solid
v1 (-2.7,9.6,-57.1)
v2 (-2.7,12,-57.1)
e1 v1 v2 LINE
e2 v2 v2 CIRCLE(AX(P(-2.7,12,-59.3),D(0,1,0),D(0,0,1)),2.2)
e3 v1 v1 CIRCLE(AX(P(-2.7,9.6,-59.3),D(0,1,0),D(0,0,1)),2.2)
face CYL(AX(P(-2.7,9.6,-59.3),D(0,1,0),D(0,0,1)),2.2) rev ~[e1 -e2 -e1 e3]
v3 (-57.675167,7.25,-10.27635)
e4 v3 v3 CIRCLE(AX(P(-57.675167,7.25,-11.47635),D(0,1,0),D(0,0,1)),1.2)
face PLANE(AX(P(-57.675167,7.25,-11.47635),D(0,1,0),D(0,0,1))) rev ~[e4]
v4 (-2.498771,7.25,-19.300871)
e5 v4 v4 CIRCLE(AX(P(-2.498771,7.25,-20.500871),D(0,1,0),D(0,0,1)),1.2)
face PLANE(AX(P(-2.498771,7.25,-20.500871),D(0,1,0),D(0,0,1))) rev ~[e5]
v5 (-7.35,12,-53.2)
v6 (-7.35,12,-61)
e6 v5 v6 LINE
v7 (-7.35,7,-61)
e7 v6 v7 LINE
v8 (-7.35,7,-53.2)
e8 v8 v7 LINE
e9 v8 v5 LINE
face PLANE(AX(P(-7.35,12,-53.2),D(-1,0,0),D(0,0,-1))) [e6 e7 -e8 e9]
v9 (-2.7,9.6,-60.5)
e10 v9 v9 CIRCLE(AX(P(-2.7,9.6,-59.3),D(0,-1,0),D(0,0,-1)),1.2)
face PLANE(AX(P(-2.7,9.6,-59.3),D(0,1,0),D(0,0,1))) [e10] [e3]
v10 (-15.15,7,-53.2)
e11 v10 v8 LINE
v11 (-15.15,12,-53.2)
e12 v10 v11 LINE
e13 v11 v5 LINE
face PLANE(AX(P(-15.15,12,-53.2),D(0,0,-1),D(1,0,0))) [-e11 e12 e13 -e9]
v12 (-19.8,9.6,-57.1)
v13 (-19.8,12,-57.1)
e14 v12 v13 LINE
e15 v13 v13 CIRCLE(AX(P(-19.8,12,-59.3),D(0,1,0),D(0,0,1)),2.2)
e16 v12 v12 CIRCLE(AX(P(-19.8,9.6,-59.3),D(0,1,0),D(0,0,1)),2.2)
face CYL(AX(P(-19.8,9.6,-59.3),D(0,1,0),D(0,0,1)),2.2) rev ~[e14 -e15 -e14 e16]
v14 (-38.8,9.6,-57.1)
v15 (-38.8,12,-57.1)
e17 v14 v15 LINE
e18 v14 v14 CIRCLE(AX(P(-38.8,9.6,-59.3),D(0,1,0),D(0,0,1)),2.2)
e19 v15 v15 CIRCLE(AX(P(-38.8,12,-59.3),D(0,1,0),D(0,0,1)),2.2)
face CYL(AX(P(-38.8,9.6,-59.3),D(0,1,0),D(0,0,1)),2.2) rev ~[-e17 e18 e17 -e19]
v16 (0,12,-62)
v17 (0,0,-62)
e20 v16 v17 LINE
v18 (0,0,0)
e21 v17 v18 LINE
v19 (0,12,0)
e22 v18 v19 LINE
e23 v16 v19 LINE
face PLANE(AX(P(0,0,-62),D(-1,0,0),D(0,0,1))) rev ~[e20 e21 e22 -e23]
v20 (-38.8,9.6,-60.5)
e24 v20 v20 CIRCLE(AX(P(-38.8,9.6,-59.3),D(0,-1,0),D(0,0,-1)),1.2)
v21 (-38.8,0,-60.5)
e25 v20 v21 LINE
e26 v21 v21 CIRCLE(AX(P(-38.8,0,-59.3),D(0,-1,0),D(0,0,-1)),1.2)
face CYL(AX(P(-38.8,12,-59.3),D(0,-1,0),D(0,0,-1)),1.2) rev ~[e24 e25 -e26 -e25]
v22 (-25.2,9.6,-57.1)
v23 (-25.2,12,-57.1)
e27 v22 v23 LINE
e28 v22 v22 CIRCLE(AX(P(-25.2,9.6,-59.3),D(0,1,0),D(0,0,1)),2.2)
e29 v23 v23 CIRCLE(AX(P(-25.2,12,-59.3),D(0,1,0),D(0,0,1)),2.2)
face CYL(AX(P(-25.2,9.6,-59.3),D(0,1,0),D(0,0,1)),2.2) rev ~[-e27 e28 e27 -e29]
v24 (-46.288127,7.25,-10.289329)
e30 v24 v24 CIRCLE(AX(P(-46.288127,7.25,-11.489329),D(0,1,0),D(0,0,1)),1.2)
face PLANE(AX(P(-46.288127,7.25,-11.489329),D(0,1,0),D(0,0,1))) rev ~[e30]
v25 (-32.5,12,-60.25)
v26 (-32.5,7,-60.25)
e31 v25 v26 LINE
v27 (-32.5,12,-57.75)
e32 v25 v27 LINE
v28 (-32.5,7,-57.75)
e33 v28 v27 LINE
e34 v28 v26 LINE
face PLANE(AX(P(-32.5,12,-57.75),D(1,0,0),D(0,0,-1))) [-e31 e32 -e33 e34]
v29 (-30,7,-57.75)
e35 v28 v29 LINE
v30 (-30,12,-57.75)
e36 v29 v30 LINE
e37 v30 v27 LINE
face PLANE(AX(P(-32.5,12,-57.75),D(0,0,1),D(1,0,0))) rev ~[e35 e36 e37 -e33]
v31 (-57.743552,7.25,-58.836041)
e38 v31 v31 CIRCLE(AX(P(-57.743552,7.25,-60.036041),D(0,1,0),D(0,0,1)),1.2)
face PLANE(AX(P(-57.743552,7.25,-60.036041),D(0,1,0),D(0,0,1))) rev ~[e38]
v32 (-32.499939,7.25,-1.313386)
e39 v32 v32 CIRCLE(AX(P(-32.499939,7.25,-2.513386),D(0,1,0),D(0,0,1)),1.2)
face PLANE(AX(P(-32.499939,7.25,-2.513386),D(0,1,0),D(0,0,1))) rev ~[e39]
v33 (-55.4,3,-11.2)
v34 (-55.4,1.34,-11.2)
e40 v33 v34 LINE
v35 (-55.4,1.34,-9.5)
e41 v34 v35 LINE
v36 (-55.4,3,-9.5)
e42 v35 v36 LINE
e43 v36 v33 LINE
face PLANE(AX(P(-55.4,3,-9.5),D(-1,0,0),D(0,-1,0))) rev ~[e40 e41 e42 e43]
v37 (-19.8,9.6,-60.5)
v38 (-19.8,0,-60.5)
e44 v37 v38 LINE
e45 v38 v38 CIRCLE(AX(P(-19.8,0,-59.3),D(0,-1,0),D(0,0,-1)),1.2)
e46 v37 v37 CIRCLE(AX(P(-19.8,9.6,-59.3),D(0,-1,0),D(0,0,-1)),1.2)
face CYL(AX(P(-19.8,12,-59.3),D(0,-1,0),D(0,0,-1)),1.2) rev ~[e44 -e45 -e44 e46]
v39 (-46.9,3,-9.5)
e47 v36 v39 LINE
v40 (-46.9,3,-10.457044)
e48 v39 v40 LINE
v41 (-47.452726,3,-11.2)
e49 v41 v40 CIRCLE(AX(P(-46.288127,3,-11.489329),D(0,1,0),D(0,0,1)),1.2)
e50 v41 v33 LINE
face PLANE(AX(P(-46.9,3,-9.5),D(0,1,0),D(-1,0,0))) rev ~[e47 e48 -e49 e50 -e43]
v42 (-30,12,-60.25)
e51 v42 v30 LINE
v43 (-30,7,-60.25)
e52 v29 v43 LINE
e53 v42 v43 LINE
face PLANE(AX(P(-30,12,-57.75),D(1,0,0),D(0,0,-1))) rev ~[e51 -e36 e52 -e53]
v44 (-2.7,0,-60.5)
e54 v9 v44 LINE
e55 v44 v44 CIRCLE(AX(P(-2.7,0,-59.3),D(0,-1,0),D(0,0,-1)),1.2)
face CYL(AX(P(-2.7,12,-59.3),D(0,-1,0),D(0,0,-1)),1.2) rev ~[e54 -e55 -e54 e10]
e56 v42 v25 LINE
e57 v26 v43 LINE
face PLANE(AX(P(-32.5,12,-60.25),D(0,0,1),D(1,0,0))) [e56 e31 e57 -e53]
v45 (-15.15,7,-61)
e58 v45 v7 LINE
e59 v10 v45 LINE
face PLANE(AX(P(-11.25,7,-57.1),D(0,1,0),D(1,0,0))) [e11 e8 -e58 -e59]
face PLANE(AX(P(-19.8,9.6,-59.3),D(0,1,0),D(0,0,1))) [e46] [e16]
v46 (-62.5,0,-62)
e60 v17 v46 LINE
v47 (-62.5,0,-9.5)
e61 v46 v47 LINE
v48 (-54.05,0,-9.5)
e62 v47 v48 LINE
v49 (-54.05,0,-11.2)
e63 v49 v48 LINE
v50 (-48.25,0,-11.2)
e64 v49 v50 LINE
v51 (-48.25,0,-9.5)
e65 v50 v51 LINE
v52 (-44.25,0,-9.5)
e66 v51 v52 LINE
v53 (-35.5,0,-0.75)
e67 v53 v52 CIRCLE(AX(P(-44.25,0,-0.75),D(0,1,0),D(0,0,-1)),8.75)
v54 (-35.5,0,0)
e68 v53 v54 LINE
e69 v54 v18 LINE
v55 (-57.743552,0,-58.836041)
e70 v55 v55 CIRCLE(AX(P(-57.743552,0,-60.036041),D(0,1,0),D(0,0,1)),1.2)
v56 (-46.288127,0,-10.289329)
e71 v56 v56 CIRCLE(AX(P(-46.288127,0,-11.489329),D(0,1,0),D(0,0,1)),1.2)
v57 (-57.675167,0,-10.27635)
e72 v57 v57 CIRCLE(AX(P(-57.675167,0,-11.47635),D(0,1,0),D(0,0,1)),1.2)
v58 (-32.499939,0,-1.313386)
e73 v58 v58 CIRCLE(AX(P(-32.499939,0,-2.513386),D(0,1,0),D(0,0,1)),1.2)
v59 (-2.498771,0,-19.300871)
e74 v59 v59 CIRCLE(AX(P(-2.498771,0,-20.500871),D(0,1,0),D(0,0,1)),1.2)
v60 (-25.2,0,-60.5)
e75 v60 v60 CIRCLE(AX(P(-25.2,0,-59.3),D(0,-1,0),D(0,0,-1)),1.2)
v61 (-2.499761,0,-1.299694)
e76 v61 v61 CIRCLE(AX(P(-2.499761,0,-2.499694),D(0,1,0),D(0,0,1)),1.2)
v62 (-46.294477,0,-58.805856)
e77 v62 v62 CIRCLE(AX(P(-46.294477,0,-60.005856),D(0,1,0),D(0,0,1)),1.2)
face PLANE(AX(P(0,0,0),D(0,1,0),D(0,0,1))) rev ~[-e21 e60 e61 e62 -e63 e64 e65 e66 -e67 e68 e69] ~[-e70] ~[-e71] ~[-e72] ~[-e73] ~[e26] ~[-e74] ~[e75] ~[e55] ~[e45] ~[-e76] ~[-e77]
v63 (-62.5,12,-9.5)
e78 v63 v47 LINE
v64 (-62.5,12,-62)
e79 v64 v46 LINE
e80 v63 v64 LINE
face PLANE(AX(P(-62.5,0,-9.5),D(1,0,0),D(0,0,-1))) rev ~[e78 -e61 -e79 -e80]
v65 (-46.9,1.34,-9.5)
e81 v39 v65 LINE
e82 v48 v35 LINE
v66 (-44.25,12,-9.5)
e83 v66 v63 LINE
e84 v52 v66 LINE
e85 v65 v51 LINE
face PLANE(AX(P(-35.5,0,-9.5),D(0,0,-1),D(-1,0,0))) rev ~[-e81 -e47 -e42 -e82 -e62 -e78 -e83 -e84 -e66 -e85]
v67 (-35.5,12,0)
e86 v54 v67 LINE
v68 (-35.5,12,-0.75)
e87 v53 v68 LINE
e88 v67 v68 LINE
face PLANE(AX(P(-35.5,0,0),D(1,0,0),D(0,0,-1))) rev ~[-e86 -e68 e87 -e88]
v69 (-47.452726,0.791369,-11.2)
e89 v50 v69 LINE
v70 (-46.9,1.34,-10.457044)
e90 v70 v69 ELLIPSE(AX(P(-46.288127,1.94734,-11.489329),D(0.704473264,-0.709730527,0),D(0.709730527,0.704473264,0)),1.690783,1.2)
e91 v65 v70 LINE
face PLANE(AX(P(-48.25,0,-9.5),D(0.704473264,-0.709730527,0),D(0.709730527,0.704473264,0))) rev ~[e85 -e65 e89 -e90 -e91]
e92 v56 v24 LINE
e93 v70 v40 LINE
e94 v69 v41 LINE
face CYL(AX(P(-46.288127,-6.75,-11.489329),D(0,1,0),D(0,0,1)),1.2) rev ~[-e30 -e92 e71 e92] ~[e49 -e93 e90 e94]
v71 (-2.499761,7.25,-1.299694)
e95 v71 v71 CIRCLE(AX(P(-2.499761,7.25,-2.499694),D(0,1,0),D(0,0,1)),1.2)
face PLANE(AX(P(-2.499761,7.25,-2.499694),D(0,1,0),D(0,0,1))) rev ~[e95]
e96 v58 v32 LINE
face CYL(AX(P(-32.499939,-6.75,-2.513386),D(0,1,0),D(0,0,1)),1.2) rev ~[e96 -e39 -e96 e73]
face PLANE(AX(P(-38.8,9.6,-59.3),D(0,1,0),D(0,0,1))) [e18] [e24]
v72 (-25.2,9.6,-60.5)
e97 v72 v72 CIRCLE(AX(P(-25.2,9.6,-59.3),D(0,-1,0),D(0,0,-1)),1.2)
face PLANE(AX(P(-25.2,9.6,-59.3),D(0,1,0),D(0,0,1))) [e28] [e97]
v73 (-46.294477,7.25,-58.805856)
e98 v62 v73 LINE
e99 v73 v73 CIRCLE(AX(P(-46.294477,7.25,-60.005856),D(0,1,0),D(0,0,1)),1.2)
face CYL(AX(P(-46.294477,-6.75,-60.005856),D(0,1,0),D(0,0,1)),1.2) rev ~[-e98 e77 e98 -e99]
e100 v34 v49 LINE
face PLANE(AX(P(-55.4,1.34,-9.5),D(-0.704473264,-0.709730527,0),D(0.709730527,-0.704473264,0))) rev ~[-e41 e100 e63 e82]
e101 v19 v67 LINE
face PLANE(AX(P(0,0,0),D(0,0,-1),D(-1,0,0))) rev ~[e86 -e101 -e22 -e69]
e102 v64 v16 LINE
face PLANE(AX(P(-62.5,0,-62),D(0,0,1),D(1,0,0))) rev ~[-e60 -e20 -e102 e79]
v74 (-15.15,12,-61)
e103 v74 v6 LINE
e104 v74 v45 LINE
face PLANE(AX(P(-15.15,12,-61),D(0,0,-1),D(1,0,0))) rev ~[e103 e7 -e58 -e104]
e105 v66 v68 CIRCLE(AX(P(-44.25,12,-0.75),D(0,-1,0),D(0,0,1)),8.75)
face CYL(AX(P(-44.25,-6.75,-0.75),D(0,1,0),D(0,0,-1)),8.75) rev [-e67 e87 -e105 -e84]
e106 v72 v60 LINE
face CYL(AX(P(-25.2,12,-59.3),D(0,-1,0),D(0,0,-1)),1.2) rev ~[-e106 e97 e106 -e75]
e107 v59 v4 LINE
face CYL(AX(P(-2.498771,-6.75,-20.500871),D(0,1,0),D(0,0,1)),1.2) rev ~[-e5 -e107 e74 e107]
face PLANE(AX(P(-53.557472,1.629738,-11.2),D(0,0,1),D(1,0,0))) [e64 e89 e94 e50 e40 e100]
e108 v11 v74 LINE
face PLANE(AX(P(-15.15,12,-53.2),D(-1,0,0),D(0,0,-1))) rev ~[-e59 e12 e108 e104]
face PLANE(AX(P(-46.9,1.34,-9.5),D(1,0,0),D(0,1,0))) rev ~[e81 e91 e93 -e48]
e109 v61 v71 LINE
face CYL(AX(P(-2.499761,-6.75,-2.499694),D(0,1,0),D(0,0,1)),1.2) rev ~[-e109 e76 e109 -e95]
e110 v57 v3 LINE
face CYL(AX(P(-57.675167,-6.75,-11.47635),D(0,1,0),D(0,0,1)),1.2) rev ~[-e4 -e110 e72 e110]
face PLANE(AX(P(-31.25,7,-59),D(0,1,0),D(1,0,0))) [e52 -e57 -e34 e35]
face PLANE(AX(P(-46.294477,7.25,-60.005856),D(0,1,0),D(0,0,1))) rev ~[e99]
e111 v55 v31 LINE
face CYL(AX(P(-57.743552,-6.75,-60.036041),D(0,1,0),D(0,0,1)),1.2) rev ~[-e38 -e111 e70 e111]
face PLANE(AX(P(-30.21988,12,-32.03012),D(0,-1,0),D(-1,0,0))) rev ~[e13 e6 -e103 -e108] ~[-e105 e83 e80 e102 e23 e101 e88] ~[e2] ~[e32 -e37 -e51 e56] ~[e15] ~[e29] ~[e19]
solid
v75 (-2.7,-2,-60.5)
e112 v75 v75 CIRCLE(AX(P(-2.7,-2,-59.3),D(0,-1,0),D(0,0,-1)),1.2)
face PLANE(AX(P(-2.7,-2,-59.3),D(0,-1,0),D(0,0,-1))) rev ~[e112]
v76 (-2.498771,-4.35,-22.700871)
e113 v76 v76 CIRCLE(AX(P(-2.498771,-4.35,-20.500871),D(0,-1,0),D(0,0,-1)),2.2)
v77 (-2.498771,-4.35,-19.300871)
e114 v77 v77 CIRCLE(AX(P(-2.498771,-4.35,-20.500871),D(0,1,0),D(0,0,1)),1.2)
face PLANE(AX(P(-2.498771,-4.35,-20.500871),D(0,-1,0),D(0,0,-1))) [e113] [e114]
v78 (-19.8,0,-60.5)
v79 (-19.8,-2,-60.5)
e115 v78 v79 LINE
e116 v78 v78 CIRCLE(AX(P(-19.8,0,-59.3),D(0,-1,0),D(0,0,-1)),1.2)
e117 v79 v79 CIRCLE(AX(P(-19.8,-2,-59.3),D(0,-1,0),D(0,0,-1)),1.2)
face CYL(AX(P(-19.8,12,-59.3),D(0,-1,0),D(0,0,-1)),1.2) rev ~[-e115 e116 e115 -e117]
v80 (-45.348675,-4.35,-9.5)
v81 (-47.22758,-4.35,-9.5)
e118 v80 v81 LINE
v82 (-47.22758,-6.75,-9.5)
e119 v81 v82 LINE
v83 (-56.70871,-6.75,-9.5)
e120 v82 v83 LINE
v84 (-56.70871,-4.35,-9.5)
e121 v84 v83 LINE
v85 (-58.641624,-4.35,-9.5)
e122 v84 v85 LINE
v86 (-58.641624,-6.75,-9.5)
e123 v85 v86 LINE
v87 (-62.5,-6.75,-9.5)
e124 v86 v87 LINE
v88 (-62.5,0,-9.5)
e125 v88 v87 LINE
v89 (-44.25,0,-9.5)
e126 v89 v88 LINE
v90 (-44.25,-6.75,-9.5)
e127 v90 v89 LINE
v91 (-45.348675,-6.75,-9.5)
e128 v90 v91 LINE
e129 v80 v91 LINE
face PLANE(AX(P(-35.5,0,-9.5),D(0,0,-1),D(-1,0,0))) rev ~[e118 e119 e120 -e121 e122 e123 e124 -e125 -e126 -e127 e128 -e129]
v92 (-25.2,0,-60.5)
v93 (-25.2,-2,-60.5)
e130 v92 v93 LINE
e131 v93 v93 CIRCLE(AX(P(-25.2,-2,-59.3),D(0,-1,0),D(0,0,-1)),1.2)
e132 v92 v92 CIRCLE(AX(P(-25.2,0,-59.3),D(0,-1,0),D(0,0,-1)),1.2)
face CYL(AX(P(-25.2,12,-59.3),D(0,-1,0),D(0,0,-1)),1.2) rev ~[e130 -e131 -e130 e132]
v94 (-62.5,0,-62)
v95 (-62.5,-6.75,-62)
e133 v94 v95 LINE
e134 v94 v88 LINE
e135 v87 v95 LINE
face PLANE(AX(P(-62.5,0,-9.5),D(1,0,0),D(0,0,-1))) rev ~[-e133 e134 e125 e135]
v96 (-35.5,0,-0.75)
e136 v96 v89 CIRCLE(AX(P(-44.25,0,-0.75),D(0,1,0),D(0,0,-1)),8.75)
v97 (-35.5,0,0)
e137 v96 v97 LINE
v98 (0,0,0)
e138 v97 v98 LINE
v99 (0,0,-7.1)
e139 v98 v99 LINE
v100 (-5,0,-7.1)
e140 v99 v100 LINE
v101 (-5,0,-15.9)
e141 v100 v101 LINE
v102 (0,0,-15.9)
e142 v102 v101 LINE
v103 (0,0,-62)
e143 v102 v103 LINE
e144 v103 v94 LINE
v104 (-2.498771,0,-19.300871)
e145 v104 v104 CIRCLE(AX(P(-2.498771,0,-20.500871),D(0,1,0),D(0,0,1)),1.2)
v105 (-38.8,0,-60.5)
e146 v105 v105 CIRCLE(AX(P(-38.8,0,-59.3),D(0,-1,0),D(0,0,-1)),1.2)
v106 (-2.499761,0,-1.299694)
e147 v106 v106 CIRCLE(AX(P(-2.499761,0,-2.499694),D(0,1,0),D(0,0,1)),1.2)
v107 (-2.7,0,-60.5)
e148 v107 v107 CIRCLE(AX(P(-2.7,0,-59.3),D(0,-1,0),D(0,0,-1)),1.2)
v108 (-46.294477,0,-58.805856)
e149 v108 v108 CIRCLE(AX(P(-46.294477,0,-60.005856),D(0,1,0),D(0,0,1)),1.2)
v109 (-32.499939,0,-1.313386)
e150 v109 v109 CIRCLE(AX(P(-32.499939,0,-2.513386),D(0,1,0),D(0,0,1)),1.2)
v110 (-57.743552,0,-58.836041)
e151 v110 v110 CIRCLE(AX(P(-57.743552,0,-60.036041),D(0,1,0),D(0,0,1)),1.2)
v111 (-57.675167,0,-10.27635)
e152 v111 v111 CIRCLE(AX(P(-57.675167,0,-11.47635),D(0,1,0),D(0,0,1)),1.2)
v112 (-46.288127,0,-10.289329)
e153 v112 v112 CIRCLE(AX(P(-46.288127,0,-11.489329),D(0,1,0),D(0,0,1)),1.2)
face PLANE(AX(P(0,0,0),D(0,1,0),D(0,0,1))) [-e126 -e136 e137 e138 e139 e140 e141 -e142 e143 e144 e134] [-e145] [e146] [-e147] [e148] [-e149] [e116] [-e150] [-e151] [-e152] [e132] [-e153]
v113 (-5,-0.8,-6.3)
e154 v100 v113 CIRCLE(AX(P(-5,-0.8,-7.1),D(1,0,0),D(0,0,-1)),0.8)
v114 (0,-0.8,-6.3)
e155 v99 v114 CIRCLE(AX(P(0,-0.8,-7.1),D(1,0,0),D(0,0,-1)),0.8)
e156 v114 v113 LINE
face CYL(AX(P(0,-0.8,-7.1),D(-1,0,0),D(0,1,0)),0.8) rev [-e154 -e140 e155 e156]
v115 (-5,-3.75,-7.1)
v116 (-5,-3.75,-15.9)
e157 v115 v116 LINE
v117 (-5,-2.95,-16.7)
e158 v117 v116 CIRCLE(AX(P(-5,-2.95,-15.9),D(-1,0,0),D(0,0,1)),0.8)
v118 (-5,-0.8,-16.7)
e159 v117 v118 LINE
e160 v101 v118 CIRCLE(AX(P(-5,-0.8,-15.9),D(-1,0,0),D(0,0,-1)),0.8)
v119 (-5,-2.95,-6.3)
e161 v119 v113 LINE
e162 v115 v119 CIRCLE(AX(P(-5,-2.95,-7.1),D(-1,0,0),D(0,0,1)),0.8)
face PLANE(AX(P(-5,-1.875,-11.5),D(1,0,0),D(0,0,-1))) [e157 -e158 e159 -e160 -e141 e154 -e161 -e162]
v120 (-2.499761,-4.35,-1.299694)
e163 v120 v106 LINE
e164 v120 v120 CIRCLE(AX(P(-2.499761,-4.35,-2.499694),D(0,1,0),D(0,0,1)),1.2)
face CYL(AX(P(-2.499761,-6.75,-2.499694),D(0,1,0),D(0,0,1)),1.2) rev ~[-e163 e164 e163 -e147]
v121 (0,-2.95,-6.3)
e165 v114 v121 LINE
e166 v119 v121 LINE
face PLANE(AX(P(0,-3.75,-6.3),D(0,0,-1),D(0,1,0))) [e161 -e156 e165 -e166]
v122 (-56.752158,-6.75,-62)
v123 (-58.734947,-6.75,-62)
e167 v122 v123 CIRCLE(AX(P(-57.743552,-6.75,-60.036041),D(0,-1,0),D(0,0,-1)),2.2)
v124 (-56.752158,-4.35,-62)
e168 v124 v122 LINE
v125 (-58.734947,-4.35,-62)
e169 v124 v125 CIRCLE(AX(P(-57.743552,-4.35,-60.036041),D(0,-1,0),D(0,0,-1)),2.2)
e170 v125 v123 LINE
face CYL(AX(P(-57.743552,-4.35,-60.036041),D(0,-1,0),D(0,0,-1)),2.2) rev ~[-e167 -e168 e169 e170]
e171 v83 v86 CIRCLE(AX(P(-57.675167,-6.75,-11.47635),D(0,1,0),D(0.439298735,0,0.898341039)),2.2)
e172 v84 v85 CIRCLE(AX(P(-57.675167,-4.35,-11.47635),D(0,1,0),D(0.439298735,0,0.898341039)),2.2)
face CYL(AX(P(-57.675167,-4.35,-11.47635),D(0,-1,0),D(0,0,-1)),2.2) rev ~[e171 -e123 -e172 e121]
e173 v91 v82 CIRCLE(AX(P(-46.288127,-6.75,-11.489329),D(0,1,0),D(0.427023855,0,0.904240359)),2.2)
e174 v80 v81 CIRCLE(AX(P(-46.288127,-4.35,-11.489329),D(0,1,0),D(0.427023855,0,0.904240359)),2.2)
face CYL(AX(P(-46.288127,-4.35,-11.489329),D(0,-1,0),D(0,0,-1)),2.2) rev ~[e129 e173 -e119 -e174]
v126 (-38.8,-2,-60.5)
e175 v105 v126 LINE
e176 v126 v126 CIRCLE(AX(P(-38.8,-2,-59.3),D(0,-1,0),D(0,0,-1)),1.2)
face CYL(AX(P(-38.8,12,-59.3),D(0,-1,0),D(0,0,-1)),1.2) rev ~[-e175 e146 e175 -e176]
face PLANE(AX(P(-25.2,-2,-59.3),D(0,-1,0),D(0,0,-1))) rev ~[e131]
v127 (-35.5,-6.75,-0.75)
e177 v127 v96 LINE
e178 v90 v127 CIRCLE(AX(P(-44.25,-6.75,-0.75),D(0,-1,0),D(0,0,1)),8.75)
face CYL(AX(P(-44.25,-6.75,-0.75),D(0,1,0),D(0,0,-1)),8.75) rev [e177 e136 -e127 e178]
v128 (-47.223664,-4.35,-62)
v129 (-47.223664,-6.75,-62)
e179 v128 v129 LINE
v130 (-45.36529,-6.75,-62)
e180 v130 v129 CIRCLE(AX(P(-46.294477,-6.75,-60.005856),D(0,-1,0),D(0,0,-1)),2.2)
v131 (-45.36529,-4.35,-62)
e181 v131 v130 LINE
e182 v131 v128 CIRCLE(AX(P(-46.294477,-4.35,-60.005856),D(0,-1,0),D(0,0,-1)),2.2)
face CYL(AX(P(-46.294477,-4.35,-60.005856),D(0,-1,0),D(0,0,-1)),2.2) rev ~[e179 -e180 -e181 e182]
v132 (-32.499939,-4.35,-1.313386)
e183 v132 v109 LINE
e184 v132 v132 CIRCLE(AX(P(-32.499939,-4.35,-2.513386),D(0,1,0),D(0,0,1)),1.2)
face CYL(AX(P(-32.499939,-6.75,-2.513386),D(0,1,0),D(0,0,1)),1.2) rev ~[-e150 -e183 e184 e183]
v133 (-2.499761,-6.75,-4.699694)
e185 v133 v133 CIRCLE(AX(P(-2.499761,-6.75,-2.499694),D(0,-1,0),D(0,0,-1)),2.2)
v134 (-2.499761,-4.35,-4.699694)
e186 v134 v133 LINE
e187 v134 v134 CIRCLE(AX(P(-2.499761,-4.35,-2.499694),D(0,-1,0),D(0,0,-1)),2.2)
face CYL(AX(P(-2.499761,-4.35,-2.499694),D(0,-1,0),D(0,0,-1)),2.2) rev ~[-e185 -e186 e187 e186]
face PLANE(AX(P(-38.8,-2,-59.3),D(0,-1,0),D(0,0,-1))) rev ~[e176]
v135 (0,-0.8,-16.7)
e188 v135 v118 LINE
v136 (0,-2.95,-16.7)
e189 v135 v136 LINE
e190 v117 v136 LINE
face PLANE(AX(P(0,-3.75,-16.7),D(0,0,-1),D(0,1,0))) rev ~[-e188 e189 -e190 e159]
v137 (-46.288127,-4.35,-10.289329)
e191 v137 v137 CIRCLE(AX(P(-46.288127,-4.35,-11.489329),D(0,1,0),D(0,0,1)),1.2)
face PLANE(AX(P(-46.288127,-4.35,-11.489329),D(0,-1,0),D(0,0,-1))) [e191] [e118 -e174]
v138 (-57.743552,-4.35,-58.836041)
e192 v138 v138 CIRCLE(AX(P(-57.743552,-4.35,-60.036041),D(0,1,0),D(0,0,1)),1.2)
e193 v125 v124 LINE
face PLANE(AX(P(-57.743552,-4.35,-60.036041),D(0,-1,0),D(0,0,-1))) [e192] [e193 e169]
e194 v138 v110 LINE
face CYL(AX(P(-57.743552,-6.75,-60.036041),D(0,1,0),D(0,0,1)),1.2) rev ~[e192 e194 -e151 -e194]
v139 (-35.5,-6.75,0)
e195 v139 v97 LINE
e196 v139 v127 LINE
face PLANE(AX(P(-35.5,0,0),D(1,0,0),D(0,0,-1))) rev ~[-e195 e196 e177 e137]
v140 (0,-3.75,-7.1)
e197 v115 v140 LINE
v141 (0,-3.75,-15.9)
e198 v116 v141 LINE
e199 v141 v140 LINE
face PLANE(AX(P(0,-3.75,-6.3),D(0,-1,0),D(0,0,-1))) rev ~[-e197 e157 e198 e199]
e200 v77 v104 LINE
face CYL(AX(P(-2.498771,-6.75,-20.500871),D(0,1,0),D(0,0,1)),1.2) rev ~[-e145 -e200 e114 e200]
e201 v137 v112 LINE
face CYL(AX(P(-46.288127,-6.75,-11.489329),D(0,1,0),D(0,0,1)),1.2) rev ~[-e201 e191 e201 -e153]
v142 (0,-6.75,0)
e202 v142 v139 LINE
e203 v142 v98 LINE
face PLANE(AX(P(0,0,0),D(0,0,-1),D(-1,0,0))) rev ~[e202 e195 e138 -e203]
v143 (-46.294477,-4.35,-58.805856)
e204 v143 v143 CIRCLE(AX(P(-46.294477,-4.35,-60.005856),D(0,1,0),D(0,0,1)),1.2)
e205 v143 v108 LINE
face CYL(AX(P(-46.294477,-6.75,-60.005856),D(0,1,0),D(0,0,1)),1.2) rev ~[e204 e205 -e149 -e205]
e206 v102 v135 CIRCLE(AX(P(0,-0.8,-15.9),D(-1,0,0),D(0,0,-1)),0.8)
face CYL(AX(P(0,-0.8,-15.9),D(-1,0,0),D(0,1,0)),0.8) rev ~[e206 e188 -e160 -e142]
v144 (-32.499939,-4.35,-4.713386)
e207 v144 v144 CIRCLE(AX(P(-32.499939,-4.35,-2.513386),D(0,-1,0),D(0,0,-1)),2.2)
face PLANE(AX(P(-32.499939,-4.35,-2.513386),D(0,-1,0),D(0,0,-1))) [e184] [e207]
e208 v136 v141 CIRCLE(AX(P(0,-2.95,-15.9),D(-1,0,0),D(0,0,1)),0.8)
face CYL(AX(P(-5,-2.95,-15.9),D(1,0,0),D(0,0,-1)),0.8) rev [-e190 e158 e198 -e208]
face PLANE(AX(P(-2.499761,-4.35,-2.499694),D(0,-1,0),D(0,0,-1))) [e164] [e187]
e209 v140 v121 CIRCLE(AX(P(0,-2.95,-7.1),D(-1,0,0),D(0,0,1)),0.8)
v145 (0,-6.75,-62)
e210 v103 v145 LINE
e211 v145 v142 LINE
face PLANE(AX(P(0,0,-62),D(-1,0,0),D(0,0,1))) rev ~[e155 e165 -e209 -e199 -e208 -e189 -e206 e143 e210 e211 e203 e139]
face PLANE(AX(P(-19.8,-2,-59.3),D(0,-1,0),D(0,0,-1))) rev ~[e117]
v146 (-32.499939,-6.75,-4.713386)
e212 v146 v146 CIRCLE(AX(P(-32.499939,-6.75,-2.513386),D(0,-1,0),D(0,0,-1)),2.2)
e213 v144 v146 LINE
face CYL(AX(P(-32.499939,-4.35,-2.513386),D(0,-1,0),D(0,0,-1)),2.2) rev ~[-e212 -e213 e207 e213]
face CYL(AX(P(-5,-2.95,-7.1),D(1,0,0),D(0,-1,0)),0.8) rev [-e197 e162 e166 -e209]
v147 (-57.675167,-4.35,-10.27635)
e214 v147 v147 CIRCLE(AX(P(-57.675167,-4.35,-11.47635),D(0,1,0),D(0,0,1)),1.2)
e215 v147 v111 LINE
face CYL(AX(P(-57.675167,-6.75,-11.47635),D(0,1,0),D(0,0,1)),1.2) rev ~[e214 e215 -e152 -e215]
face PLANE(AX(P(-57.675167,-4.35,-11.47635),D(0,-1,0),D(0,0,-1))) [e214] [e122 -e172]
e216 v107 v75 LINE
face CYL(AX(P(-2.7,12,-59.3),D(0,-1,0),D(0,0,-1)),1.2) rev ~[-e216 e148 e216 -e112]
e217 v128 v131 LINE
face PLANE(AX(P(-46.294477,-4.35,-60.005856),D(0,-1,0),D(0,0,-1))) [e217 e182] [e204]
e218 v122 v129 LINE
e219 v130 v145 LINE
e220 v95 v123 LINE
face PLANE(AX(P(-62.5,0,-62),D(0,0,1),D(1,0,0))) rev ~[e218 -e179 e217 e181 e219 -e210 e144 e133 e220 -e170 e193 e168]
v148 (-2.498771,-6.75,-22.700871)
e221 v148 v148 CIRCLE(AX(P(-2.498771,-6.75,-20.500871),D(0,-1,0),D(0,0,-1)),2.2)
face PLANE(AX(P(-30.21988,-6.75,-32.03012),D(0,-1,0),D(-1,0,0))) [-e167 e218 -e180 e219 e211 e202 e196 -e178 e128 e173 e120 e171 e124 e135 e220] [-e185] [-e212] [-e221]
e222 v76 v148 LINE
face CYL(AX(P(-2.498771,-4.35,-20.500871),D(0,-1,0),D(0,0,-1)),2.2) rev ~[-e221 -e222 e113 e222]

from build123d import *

# Parameters (mm, degrees)
BOSS_EXTRUDE1_DEPTH                                 = 12
BOSS_EXTRUDE1_DEPTH_BACK                            = 6.75
SKETCH5_W                                           = 7.8
SKETCH5_H                                           = 7.8
SKETCH5_W_2                                         = 2.5
SKETCH5_H_2                                         = 2.5
CUT_EXTRUDE1_DEPTH                                  = 5
SKETCH17_W                                          = 10.4
SKETCH17_H                                          = 3.75
CUT_EXTRUDE2_DEPTH                                  = 5
FILLET6_R                                           = 0.8
CUT_EXTRUDE3_DEPTH                                  = 1.7
FILLET4_R                                           = 8.75
CBORE_FOR_M2_HEX_SOCKET_HEAD_CAP_SCREW1_D           = 2.4
CBORE_FOR_M2_HEX_SOCKET_HEAD_CAP_SCREW1_DEPTH       = 14
CBORE_FOR_M2_HEX_SOCKET_HEAD_CAP_SCREW1_CBORE_D     = 4.4
CBORE_FOR_M2_HEX_SOCKET_HEAD_CAP_SCREW1_CBORE_DEPTH = 2.4
CBORE_FOR_M2_HEX_SOCKET_HEAD_CAP_SCREW2_D           = 2.4
CBORE_FOR_M2_HEX_SOCKET_HEAD_CAP_SCREW2_DEPTH       = 14
CBORE_FOR_M2_HEX_SOCKET_HEAD_CAP_SCREW2_CBORE_D     = 4.4
CBORE_FOR_M2_HEX_SOCKET_HEAD_CAP_SCREW2_CBORE_DEPTH = 2.4


with BuildPart() as part:
    # Sketch2 → Boss-Extrude1 (new body, two sides)
    with BuildSketch(Plane(origin=(0, 0, 0), x_dir=(1, 0, 0), z_dir=(0, 1, 0))) as boss_extrude1_sk:
        Polygon((-35.5, 9.5), (-62.5, 9.5), (-62.5, 62), (0, 62), (0, 0), (-35.5, 0), align=None)
    extrude(amount=BOSS_EXTRUDE1_DEPTH)
    extrude(boss_extrude1_sk.sketch, amount=-BOSS_EXTRUDE1_DEPTH_BACK)

    # Sketch5 → Cut-Extrude1 (cut, symmetric)
    with BuildSketch(Plane(origin=(0, 12, 0), x_dir=(1, 0, 0), z_dir=(0, 1, 0))):
        with Locations((-11.25, 57.1)):
            Rectangle(SKETCH5_W, SKETCH5_H)
        with Locations((-31.25, 59)):
            Rectangle(SKETCH5_W_2, SKETCH5_H_2)
    extrude(amount=CUT_EXTRUDE1_DEPTH, both=True, mode=Mode.SUBTRACT)

    # Sketch17 → Cut-Extrude2 (cut, symmetric)
    with BuildSketch(Plane(origin=(0, 0, 0), x_dir=(0, 0, -1), z_dir=(1, 0, 0))):
        with Locations((11.5, -1.875)):
            Rectangle(SKETCH17_W, SKETCH17_H)
    extrude(amount=CUT_EXTRUDE2_DEPTH, both=True, mode=Mode.SUBTRACT)

    # Fillet6
    fillet6_edges = [part.edges().sort_by_distance(p)[0] for p in [
        (-2.5, 0, -16.7),
        (-2.5, 0, -6.3),
        (-2.5, -3.75, -16.7),
        (-2.5, -3.75, -6.3),
    ]]
    fillet(fillet6_edges, radius=FILLET6_R)

    # Sketch20 → Cut-Extrude3 (cut, symmetric)
    with BuildSketch(Plane.XY.offset(-9.5)):
        Polygon((-52, 3), (-55.4, 3), (-55.4, 1.34), (-54.05, 0), (-52, 0), align=None)
        Polygon((-46.9, 3), (-52, 3), (-52, 0), (-48.25, 0), (-46.9, 1.34), align=None)
    extrude(amount=CUT_EXTRUDE3_DEPTH, both=True, mode=Mode.SUBTRACT)

    # Fillet4
    fillet4_edges = [part.edges().sort_by_distance(p)[0] for p in [
        (-35.5, 2.625, -9.5),
    ]]
    fillet(fillet4_edges, radius=FILLET4_R)

    # CBORE for M2 Hex Socket Head Cap Screw1
    with Locations(Plane(origin=(-2.7, 12, -59.3), x_dir=(0, 0, 1), z_dir=(0, 1, 0))):
        with Locations((0, 0), (0, -17.1), (0, -22.5), (0, -36.1)):
            CounterBoreHole(CBORE_FOR_M2_HEX_SOCKET_HEAD_CAP_SCREW1_D / 2, CBORE_FOR_M2_HEX_SOCKET_HEAD_CAP_SCREW1_CBORE_D / 2, CBORE_FOR_M2_HEX_SOCKET_HEAD_CAP_SCREW1_CBORE_DEPTH, depth=CBORE_FOR_M2_HEX_SOCKET_HEAD_CAP_SCREW1_DEPTH)

    # CBORE for M2 Hex Socket Head Cap Screw2
    with Locations(Plane(origin=(-57.743552304, -6.75, -60.036040553), x_dir=(0, 0, -1), z_dir=(0, -1, 0))):
        with Locations((0, 0), (-0.03018486, 11.449075617), (-48.546711763, 11.455424933), (-48.559690268, 0.06838538), (-57.522654137, 25.243612903), (-57.536346288, 55.243791663), (-39.535169759, 55.244781727)):
            CounterBoreHole(CBORE_FOR_M2_HEX_SOCKET_HEAD_CAP_SCREW2_D / 2, CBORE_FOR_M2_HEX_SOCKET_HEAD_CAP_SCREW2_CBORE_D / 2, CBORE_FOR_M2_HEX_SOCKET_HEAD_CAP_SCREW2_CBORE_DEPTH, depth=CBORE_FOR_M2_HEX_SOCKET_HEAD_CAP_SCREW2_DEPTH)


with BuildPart() as body_2:
    # Split1: the piece on the far side of the plane
    add(part.part)
    split(bisect_by=Plane.ZX, keep=Keep.BOTTOM)


with BuildPart() as part_1:
    add(part.part)

    # Split1
    split(bisect_by=Plane.ZX, keep=Keep.TOP)


solid = Compound([body_2.part, part_1.part])
